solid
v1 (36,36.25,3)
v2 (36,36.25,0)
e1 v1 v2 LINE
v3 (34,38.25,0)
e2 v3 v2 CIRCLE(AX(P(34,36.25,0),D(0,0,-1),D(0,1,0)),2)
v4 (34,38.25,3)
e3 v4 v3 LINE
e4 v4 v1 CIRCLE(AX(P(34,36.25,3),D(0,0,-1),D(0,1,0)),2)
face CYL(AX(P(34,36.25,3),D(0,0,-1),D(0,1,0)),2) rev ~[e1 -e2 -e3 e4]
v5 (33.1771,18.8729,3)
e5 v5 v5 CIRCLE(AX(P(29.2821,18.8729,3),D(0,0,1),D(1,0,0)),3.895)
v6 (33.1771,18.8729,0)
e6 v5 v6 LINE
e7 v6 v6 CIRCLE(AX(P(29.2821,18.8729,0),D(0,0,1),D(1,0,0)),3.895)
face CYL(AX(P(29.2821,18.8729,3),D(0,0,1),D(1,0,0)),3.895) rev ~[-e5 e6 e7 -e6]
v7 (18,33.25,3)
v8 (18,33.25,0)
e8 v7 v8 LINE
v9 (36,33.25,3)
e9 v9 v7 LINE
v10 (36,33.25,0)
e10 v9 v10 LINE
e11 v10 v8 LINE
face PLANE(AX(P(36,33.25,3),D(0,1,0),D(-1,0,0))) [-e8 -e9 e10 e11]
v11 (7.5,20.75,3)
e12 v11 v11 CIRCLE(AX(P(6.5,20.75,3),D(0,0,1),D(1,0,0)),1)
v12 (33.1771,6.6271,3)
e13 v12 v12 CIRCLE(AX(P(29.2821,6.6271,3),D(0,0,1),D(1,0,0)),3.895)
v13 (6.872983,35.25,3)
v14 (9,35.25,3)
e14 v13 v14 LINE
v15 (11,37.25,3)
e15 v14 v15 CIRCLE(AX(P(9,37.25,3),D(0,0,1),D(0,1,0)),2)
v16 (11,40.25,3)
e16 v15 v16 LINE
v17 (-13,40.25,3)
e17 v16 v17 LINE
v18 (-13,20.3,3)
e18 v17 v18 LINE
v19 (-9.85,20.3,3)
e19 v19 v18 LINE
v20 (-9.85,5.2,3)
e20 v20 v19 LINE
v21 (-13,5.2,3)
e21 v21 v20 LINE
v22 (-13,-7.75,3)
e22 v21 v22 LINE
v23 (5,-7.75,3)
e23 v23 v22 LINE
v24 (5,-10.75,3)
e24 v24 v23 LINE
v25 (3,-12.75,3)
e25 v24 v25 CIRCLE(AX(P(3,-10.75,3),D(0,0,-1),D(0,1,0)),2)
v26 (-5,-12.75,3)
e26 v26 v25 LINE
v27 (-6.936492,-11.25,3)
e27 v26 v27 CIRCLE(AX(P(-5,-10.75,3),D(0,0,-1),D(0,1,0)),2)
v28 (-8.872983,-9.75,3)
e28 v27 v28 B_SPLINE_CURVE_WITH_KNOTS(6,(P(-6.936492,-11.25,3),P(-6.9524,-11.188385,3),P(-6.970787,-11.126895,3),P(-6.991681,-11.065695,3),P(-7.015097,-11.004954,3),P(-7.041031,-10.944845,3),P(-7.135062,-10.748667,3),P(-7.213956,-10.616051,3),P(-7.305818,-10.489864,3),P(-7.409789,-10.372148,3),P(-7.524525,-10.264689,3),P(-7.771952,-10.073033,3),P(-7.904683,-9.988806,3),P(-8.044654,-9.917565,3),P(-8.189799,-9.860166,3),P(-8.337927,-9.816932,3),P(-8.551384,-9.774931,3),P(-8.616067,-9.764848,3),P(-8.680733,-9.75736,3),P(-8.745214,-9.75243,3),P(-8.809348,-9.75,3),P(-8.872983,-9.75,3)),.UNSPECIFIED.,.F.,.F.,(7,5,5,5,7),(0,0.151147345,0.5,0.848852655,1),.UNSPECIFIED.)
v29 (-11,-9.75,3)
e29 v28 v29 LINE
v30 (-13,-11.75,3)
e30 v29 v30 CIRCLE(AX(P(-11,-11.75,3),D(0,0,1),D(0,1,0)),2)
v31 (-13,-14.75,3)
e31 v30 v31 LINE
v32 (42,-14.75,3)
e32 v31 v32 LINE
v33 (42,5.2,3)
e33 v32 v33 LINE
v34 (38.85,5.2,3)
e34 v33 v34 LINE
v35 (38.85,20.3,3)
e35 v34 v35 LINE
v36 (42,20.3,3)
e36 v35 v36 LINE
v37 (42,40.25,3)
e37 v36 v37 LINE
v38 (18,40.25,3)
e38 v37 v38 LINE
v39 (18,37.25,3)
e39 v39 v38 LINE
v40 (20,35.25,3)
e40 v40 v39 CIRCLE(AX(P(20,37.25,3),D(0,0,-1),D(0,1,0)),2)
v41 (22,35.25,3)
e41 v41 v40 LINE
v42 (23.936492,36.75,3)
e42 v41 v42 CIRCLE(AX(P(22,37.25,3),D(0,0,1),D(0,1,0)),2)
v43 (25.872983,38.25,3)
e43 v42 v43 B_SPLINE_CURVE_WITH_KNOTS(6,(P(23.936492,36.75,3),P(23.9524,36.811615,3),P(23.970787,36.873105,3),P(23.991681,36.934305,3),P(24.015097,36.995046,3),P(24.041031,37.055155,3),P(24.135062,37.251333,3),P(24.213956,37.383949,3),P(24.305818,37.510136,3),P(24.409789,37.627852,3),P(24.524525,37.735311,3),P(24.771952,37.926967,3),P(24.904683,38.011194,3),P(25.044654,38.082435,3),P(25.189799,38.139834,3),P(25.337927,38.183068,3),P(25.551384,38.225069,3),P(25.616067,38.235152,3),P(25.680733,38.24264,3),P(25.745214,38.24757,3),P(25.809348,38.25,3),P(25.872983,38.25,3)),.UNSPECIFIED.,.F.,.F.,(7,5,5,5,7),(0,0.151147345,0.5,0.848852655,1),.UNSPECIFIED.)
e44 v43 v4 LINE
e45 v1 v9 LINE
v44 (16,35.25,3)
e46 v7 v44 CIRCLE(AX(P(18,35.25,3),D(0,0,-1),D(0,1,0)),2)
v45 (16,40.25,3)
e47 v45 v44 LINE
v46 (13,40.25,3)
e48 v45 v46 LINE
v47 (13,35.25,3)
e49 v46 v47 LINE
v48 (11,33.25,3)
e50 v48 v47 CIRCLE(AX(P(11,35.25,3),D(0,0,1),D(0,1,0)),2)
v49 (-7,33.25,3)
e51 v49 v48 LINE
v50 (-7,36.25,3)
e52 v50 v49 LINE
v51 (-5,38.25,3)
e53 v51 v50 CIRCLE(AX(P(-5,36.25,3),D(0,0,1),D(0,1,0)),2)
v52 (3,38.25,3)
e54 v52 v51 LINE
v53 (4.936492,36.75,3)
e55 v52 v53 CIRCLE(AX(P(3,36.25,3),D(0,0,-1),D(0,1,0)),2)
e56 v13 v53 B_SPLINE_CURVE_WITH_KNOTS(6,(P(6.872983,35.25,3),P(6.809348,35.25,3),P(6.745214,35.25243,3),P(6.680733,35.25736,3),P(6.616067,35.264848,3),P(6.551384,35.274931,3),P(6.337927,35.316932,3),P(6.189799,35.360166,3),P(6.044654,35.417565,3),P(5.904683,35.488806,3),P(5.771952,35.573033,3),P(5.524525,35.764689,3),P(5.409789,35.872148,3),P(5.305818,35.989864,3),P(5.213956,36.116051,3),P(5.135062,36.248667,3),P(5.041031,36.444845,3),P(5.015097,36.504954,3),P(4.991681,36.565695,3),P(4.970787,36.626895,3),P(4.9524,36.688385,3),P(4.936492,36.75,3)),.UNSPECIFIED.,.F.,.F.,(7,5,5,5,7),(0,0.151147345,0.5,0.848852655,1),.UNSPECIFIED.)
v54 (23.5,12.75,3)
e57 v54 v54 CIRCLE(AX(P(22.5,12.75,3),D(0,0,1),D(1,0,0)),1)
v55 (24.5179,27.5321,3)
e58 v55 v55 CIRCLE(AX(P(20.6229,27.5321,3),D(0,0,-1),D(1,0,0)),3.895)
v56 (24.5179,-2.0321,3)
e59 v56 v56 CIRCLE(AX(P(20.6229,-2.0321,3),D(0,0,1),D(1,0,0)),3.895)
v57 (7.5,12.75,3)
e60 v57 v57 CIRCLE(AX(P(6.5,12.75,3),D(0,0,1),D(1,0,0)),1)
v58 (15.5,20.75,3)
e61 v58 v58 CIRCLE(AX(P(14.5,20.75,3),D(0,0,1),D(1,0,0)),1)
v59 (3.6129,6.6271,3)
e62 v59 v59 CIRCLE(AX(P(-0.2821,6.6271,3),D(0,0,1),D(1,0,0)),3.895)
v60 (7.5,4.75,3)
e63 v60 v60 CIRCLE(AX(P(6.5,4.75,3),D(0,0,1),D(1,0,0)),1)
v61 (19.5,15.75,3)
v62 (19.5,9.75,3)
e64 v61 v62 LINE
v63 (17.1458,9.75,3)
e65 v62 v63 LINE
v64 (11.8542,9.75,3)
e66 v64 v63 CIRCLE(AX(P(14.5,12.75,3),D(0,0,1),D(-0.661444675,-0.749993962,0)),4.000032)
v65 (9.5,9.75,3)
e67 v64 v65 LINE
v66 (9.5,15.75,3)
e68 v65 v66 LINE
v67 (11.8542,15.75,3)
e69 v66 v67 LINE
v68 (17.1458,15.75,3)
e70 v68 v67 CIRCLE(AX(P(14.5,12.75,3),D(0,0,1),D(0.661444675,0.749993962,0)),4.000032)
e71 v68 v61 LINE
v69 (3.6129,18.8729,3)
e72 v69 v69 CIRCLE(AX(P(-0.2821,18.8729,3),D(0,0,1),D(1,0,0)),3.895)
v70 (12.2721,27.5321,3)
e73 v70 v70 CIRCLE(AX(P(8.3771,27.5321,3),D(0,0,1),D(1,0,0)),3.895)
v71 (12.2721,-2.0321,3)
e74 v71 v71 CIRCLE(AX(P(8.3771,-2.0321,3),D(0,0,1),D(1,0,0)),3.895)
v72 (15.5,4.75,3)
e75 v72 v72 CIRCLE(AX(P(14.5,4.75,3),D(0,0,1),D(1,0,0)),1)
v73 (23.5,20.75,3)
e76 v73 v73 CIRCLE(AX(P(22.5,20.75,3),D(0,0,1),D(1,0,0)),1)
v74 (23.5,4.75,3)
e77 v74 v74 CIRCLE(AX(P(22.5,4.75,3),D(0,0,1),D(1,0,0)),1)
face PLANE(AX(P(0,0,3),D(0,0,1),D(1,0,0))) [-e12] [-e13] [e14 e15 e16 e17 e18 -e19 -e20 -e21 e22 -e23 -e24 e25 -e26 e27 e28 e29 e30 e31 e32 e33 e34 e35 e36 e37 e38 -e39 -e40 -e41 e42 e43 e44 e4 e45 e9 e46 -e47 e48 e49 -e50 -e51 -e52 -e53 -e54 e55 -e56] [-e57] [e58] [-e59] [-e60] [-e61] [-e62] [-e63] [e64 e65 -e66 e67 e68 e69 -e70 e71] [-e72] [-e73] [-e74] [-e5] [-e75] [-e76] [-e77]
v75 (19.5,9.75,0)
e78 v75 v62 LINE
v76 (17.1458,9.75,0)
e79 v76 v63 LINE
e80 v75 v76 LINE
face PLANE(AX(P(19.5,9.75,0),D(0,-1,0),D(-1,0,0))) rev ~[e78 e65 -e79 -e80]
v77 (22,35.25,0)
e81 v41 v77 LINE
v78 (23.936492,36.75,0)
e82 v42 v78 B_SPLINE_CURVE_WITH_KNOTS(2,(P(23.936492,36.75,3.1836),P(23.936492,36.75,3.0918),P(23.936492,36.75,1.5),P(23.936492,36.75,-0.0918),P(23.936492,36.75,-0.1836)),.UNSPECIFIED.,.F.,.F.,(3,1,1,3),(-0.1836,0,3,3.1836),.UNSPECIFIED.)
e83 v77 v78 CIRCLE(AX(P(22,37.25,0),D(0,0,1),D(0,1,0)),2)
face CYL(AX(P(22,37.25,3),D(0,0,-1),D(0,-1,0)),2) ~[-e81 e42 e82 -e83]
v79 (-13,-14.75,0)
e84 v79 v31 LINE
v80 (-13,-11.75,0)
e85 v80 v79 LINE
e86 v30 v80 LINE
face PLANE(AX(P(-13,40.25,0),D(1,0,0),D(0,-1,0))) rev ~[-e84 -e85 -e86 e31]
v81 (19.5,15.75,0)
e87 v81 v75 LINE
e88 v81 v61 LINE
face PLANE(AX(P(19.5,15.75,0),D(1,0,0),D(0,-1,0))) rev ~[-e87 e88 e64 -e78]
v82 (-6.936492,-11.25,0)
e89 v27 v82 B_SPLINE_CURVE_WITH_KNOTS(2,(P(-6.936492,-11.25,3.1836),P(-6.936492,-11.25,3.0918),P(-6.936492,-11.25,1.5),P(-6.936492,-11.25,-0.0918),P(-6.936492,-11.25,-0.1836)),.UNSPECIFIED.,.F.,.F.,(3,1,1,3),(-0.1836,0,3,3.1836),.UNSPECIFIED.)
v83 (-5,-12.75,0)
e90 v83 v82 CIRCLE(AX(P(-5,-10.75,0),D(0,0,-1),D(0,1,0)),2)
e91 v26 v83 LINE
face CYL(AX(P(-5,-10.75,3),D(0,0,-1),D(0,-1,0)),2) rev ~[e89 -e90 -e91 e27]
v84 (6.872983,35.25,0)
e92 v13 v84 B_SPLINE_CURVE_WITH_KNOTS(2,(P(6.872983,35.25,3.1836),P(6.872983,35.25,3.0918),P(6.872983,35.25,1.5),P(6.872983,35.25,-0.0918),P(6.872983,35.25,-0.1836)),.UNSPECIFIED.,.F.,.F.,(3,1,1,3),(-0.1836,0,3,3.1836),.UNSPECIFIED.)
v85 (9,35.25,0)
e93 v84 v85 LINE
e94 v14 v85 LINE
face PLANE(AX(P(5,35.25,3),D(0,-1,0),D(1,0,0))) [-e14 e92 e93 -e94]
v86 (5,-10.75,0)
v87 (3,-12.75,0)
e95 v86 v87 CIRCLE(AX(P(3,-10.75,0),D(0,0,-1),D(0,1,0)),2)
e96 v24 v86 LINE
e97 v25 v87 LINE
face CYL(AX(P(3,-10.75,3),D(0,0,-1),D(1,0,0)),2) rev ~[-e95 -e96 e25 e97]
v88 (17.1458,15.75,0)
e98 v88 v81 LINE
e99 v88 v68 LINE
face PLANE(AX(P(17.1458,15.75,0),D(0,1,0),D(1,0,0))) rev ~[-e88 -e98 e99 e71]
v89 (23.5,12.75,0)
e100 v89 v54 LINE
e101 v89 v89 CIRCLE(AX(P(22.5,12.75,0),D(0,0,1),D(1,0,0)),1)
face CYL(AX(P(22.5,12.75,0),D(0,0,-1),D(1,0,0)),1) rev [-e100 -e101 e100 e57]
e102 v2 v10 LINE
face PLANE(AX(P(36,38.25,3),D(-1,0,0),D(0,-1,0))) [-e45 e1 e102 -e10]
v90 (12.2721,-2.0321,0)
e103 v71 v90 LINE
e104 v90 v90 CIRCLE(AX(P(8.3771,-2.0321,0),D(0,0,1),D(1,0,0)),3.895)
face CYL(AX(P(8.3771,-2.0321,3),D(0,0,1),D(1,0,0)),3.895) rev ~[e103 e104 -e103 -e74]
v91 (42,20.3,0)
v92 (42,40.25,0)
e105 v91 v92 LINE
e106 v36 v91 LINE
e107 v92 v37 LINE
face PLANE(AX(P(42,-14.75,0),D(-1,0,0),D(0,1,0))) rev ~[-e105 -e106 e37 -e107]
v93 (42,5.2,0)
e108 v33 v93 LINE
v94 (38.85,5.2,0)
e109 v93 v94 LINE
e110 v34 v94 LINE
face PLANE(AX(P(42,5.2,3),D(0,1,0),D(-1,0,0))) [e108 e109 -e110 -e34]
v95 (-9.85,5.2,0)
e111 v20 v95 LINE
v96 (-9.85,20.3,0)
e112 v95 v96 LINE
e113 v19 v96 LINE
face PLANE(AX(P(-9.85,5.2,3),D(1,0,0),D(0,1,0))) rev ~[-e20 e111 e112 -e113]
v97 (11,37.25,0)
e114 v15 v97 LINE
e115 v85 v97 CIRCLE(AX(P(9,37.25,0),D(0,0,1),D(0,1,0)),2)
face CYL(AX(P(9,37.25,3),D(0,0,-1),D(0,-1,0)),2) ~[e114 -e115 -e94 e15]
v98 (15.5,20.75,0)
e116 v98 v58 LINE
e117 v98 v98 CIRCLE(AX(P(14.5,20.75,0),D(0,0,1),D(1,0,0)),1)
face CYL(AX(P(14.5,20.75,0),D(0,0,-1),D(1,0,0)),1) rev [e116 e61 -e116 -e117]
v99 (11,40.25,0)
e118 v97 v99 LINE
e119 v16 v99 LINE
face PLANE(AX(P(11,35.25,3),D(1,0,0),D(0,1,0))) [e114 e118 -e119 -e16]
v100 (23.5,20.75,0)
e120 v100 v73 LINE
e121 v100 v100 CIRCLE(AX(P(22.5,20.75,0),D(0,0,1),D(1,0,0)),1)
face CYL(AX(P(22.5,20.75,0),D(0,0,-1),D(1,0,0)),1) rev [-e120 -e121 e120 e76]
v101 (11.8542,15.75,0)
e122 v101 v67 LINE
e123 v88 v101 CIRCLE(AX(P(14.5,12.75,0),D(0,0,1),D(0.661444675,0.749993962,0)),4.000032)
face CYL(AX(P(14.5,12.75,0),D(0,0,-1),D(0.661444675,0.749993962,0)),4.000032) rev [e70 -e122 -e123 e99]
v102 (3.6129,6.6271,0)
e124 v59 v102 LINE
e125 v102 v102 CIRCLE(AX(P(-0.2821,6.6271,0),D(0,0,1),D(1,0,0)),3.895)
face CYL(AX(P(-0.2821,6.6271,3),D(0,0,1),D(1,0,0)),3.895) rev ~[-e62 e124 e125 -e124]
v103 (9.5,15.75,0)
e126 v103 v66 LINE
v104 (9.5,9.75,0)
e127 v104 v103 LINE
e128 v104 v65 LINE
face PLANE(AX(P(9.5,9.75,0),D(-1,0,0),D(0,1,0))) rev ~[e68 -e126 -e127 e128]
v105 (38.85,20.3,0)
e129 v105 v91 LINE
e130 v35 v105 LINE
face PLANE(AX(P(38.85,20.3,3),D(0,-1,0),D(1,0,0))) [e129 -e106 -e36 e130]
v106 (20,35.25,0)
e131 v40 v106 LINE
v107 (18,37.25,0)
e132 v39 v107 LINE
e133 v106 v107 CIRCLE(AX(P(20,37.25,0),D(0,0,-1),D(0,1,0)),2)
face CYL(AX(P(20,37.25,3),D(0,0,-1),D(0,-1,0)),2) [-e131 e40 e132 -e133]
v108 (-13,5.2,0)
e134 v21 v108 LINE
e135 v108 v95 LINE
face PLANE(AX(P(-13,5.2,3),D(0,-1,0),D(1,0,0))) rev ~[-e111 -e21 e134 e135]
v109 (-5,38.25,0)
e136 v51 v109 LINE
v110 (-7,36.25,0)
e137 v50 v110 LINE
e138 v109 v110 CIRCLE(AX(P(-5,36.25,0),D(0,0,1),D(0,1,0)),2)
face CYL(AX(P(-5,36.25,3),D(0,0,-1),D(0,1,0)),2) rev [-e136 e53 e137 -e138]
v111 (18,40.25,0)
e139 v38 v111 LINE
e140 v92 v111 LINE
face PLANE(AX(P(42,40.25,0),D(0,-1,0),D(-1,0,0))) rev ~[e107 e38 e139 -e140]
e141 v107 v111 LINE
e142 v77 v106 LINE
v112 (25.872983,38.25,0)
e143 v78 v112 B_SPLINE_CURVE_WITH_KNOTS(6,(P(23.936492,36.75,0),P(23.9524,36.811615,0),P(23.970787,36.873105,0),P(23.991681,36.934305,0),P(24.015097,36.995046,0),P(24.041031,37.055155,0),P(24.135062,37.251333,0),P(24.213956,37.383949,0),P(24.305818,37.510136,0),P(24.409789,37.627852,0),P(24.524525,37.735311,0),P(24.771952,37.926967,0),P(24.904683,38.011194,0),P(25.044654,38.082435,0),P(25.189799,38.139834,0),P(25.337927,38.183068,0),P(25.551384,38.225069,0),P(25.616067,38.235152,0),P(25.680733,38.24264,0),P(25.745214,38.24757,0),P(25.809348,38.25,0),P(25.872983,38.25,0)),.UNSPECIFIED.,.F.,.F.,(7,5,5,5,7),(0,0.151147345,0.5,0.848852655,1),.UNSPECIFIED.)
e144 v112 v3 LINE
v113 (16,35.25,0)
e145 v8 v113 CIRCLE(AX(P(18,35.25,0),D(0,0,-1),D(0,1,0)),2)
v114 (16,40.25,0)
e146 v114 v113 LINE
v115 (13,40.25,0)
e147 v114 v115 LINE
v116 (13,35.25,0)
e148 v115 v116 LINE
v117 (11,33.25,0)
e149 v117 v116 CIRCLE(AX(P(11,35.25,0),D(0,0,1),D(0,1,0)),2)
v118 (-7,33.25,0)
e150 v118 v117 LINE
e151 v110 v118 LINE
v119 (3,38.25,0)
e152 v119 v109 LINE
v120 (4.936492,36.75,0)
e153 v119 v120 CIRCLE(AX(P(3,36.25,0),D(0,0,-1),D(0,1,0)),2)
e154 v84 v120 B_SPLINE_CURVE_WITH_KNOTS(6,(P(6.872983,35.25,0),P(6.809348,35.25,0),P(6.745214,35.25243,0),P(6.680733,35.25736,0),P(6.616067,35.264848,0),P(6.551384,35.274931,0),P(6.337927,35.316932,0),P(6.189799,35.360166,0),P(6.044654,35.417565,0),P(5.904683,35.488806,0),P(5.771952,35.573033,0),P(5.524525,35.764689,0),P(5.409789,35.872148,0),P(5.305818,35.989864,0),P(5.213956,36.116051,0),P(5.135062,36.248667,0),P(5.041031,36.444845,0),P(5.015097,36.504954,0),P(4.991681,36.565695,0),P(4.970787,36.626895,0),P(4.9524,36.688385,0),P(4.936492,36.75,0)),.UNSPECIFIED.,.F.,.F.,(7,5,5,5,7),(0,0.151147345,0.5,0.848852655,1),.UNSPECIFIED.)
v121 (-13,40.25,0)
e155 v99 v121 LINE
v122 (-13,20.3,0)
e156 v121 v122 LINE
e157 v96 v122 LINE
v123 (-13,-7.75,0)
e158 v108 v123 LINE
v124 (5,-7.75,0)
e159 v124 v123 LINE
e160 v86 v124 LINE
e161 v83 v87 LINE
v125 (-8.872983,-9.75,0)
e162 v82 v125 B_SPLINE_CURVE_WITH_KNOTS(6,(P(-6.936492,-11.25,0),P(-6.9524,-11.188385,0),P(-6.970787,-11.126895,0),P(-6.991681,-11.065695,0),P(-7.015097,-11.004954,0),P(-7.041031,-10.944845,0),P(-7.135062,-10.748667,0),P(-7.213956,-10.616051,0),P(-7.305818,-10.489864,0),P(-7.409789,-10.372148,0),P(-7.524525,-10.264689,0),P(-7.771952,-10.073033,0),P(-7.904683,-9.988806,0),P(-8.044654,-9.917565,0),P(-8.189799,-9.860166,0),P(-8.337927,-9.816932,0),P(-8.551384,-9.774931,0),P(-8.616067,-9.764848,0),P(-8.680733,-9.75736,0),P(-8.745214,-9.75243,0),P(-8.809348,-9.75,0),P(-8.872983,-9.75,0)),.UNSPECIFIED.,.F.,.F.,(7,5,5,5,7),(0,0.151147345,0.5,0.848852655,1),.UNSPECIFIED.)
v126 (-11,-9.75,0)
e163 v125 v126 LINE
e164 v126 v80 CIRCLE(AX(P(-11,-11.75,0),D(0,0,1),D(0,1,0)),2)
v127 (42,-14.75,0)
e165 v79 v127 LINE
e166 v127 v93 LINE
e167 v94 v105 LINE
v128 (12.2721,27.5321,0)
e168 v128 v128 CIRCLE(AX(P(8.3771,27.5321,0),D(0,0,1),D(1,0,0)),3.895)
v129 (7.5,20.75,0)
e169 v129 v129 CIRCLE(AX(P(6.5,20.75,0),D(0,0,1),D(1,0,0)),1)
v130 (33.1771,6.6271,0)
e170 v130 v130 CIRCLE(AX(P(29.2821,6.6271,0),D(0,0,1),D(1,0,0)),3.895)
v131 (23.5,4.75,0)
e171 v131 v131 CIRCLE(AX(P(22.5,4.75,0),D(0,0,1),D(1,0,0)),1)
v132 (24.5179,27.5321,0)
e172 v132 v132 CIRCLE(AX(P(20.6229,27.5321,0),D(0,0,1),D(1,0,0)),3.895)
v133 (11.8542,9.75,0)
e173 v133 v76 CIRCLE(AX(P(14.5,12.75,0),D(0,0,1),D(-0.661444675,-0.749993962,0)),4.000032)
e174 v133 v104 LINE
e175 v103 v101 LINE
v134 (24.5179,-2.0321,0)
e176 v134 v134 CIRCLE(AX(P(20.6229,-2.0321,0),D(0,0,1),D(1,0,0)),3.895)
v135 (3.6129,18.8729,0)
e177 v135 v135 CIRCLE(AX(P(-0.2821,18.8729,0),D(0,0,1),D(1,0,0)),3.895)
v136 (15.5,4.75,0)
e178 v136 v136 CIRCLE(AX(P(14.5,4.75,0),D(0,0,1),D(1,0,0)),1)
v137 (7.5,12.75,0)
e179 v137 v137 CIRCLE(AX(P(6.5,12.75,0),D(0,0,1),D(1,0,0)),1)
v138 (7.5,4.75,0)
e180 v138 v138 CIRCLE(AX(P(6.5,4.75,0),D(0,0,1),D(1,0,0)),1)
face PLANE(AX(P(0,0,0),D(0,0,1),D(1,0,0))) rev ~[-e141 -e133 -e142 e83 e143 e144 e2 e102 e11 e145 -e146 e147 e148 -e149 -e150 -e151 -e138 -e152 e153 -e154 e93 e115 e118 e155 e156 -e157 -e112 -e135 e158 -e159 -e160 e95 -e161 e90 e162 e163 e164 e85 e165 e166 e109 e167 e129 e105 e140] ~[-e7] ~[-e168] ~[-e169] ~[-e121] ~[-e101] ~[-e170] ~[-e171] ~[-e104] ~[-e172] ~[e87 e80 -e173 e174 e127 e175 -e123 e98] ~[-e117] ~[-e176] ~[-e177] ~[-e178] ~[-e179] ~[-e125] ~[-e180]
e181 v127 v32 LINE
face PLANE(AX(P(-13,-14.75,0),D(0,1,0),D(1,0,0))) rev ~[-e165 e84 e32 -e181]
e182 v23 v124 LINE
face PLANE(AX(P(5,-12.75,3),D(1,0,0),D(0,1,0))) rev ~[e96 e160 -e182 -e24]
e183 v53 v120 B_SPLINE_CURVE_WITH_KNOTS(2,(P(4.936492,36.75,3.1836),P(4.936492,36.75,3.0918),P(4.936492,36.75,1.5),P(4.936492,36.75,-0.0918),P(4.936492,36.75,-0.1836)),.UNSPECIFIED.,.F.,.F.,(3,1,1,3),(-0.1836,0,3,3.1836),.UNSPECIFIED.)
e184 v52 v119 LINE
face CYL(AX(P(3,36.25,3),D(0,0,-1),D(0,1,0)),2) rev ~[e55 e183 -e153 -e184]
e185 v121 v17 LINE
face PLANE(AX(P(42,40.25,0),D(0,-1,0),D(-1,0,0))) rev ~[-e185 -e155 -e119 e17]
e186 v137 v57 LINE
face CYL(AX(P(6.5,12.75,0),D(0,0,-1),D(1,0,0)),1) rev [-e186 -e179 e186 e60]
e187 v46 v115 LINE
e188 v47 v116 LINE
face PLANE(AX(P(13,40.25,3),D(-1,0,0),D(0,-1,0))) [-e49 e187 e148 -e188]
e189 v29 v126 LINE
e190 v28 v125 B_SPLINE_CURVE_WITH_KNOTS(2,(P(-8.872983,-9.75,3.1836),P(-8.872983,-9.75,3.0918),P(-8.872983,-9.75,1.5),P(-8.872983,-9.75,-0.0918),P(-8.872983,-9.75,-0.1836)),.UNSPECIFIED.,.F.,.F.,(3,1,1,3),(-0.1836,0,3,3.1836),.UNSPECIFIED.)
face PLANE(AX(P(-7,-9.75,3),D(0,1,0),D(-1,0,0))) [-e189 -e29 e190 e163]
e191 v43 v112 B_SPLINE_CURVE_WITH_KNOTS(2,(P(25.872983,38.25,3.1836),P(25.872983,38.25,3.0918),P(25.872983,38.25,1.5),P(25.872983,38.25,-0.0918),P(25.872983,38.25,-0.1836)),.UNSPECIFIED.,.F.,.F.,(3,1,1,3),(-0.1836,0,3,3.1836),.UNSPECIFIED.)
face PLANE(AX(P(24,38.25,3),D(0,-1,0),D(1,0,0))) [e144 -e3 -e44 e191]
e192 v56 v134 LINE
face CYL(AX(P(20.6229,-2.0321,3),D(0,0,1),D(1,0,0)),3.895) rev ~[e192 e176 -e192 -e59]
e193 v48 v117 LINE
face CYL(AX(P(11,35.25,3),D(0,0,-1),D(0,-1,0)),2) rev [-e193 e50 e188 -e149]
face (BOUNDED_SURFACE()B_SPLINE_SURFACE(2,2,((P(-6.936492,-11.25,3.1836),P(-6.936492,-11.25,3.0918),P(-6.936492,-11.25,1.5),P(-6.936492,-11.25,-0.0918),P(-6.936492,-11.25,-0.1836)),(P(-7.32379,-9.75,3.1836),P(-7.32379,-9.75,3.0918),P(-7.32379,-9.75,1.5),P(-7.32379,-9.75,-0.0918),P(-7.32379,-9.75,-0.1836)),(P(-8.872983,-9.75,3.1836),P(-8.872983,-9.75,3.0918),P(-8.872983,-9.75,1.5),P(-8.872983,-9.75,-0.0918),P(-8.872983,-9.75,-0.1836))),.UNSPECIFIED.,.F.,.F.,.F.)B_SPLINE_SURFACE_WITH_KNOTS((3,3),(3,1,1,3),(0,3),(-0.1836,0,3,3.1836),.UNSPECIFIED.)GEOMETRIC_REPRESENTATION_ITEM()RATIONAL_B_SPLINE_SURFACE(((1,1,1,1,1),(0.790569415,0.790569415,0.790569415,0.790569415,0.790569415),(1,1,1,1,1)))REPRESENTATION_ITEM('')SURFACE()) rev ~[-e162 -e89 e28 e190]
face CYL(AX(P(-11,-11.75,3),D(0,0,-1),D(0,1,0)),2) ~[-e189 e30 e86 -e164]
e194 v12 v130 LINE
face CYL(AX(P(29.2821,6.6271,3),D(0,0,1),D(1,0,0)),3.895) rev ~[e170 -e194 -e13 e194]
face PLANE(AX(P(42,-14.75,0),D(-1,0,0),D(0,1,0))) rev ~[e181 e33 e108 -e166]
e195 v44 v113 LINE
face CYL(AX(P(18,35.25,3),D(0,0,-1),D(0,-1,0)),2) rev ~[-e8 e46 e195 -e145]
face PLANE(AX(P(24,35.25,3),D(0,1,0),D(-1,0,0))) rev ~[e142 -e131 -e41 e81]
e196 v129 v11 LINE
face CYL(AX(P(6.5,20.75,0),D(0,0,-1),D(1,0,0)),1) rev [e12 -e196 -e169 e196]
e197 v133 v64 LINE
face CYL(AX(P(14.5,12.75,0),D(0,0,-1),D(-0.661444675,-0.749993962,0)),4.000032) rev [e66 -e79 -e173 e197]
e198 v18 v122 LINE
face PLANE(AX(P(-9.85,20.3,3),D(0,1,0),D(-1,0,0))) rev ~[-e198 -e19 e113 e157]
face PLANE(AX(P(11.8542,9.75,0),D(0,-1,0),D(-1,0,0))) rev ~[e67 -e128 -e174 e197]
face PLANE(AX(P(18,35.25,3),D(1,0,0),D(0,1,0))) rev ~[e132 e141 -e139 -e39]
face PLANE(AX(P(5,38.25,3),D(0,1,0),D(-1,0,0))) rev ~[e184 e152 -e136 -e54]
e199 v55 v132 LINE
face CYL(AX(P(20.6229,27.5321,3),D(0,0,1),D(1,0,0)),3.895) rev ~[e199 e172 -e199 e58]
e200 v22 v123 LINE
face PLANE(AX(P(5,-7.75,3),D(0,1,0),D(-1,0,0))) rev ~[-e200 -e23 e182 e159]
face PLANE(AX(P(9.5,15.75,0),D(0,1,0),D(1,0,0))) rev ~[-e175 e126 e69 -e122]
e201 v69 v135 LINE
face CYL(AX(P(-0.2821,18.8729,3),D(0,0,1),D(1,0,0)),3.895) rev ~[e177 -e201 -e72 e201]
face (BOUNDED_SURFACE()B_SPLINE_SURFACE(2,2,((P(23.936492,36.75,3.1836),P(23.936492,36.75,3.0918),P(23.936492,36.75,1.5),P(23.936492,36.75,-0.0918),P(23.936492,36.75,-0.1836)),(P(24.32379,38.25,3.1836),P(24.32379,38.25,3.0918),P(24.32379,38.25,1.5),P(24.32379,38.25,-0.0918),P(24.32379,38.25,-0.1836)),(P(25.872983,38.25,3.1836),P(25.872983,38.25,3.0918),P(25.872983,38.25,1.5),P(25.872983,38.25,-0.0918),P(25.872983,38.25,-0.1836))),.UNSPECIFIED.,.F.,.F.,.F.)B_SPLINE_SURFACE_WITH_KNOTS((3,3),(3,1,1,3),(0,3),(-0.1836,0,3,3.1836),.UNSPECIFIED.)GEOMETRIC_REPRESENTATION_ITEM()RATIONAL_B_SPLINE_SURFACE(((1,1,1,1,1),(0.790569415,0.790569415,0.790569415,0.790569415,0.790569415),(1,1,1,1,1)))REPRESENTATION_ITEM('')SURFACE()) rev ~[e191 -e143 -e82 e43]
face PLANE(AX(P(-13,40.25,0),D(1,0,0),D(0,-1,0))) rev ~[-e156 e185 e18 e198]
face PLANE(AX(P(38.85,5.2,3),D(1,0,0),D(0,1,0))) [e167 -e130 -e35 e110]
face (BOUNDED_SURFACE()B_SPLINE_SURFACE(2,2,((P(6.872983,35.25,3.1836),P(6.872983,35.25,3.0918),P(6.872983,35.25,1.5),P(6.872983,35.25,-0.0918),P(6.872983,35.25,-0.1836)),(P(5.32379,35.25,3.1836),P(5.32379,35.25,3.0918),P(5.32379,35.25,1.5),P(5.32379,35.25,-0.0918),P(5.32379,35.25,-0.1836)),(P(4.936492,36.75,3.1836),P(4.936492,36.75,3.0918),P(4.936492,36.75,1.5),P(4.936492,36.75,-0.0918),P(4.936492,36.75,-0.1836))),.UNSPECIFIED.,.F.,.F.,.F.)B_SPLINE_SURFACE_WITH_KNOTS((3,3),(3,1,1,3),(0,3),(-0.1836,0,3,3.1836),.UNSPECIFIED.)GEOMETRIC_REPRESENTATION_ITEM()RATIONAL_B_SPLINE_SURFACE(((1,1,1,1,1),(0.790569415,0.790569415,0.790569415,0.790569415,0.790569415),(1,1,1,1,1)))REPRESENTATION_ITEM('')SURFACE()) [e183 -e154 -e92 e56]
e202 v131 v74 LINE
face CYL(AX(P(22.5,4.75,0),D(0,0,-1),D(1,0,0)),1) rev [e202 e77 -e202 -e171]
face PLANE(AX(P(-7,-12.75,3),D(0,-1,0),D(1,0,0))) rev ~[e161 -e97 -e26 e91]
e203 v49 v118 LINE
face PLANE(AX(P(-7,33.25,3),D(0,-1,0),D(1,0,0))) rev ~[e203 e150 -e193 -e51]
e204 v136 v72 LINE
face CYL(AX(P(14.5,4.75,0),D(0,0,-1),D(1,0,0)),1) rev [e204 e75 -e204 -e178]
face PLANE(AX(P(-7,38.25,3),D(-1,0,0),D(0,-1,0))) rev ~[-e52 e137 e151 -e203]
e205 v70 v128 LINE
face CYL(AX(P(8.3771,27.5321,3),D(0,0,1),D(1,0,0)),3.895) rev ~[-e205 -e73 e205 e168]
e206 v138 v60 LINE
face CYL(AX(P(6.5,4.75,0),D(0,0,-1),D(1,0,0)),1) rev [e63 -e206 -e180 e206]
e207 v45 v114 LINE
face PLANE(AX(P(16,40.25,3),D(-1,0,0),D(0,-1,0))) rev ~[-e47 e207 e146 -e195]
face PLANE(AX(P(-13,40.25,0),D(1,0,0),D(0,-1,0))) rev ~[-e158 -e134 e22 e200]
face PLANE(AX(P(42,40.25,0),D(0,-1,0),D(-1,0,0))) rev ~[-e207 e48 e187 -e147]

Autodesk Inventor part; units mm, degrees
ref_plane "YZ Plane" through (0, 0, 0) normal (1, 0, 0) x (0, 1, 0)
ref_plane "XZ Plane" through (0, 0, 0) normal (0, 1, 0) x (-1, 0, 0)
ref_plane "XY Plane" through (0, 0, 0) normal (0, 0, 1) x (1, 0, 0)
ref_plane "Work Plane1" through (0, 0, 0) normal (0, 0, 1) x (1, 0, 0)
sketch "Sketch1" plane through (0, 0, 0) normal (0, 0, 1) x (1, 0, 0)
  circle A0 centre (6.5, 20.75) radius 1
  circle A1 centre (6.5, 4.75) radius 1
  circle A2 centre (22.5, 20.75) radius 1
  circle A3 centre (22.5, 4.75) radius 1
  line L0 (-13, -14.75) -> (42, -14.75)
  line L1 (42, -14.75) -> (42, 40.25)
  line L2 (42, 40.25) -> (-13, 40.25)
  line L3 (-13, 40.25) -> (-13, -14.75)
  line L4 (-13, -14.75) -> (42, 40.25) construction
  line L5 (42, -14.75) -> (-13, 40.25) construction
  circle A4 centre (22.5, 12.75) radius 1 projected
  circle A5 centre (14.5, 20.75) radius 1 projected
  circle A6 centre (14.5, 4.75) radius 1 projected
  circle A7 centre (6.5, 12.75) radius 1 projected
  line L6 (19.5, 15.75) -> (19.5, 9.75)
  line L7 (17.1458, 15.75) -> (19.5, 15.75)
  arc A8 (17.1458, 15.75) -> (11.8542, 15.75) centre (14.5, 12.75) ccw
  line L8 (9.5, 15.75) -> (11.8542, 15.75)
  line L9 (9.5, 9.75) -> (9.5, 15.75)
  line L10 (11.8542, 9.75) -> (9.5, 9.75)
  arc A9 (11.8542, 9.75) -> (17.1458, 9.75) centre (14.5, 12.75) ccw
  line L11 (19.5, 9.75) -> (17.1458, 9.75)
  point P0 (0, 0)
  dimension "d0" = 55
  dimension "d1" = 55
  dimension "d95" = 2
  dimension "d96" = 2
  dimension "d97" = 2
  dimension "d98" = 2
extrude "Extrusion3" add sketch "Sketch1" along normal blind 3
sketch "Sketch4" plane through (0, 0, 3) normal (0, 0, 1) x (1, 0, 0)
  line L0 (14.5, 40.25) -> (14.5, 12.75) construction
  line L1 (-13, -14.75) -> (42, -14.75) construction
  line L2 (-13, 12.75) -> (14.5, 12.75) construction
  line L3 (5, 38.25) -> (-7, 38.25)
  line L4 (-7, 38.25) -> (-7, 33.25)
  line L5 (-7, 33.25) -> (13, 33.25)
  line L6 (13, 40.25) -> (13, 33.25)
  line L7 (-7, -12.75) -> (5, -12.75)
  line L8 (5, -12.75) -> (5, -7.75)
  line L9 (5, -7.75) -> (-13, -7.75)
  line L10 (-13, -14.75) -> (-13, -7.75)
  line L11 (-13, -14.75) -> (5.3284, -14.75)
  line L12 (14.5, 12.75) -> (20.6229, 27.5321)
  line L13 (14.5, 12.75) -> (30.5, 12.75) construction
  circle A0 centre (20.6229, 27.5321) radius 3.895
  circle A1 centre (8.3771, 27.5321) radius 3.895
  circle A2 centre (-0.2821, 18.8729) radius 3.895
  circle A3 centre (-0.2821, 6.6271) radius 3.895
  circle A4 centre (8.3771, -2.0321) radius 3.895
  circle A5 centre (20.6229, -2.0321) radius 3.895
  circle A6 centre (29.2821, 6.6271) radius 3.895
  circle A7 centre (29.2821, 18.8729) radius 3.895
  line L14 (-7, -12.75) -> (-7, -9.75)
  line L15 (-7, -9.75) -> (-13, -9.75)
  line L16 (-13, 40.25) -> (-13, -14.75) projected
  line L17 (-13, -7.75) -> (-13, -9.75)
  line L18 (-13, 40.25) -> (-13, -14.75) projected
  line L19 (5, 38.25) -> (5, 35.25)
  line L20 (5, 35.25) -> (11, 35.25)
  line L21 (11, 35.25) -> (11, 40.25)
  line L22 (42, 40.25) -> (-13, 40.25) projected
  line L23 (42, 40.25) -> (-13, 40.25) projected
  line L24 (11, 40.25) -> (13, 40.25)
  line L25 (24, 38.25) -> (36, 38.25)
  line L26 (36, 38.25) -> (36, 33.25)
  line L27 (36, 33.25) -> (16, 33.25)
  line L28 (16, 40.25) -> (16, 33.25)
  line L29 (24, 38.25) -> (24, 35.25)
  line L30 (24, 35.25) -> (18, 35.25)
  line L31 (18, 35.25) -> (18, 40.25)
  line L32 (18, 40.25) -> (16, 40.25)
  point P0 (0, 0)
  dimension "d99" = 16
  dimension "d100" = 67.5
  dimension "d101" = 7.79
  dimension "d104" = 360
  dimension "d106" = 2
  dimension "d107" = 5
  dimension "d108" = 2
  dimension "d109" = 12
  dimension "d110" = 18
  dimension "d111" = 6
  dimension "d112" = 20
  dimension "d113" = 12
  dimension "d114" = 6
  dimension "d115" = 5
  dimension "d117" = 2
  dimension "d118" = 2
extrude "Extrusion2" cut sketch "Sketch4" against normal through all
fillet "Fillet3" radius 2 14 edges at (-7, 38.25, 1.5) (5, 38.25, 1.5) (13, 33.25, 1.5) (5, -12.75, 1.5) (-7, -12.75, 1.5) (-7, -9.75, 1.5) (-13, -9.75, 1.5) (5, 35.25, 1.5) (11, 35.25, 1.5) (18, 35.25, 1.5) (24, 35.25, 1.5) (24, 38.25, 1.5) (36, 38.25, 1.5) (16, 33.25, 1.5)
sketch "Sketch6" plane through (0, 0, 3) normal (0, 0, 1) x (1, 0, 0)
  line L0 (38.85, 20.3) -> (42, 20.3)
  line L1 (42, 20.3) -> (42, 5.2)
  line L2 (42, 5.2) -> (38.85, 5.2)
  line L3 (38.85, 5.2) -> (38.85, 20.3)
  line L4 (42, -14.75) -> (42, 40.25) projected
  line L5 (42, 40.25) -> (-13, 40.25) construction
  line L6 (14.5, 40.25) -> (14.5, -14.75) construction
  line L7 (-13, -14.75) -> (42, -14.75) construction
  line L8 (-9.85, 20.3) -> (-13, 20.3)
  line L9 (-13, 5.2) -> (-9.85, 5.2)
  line L10 (-9.85, 5.2) -> (-9.85, 20.3)
  line L11 (-13, 12.75) -> (42, 12.75) construction
  line L12 (-13, 20.3) -> (-13, 5.2)
  line L13 (-13, 40.25) -> (-13, -14.75) projected
  point P0 (0, 0)
  point P1 (42, 12.75)
  point P2 (18.0284, 40.25)
  point P3 (13, 40.25)
  point P4 (5.3284, -14.75)
  point P5 (-13, 12.75)
  point P6 (-13, -7.75)
  dimension "d91" = 3.15
  dimension "d92" = 15.1
extrude "Extrusion4" cut sketch "Sketch6" against normal through all
equation "\"d38\" = d24"
equation "\"d24\" = 7.79"
properties part number "BottomRotated"
